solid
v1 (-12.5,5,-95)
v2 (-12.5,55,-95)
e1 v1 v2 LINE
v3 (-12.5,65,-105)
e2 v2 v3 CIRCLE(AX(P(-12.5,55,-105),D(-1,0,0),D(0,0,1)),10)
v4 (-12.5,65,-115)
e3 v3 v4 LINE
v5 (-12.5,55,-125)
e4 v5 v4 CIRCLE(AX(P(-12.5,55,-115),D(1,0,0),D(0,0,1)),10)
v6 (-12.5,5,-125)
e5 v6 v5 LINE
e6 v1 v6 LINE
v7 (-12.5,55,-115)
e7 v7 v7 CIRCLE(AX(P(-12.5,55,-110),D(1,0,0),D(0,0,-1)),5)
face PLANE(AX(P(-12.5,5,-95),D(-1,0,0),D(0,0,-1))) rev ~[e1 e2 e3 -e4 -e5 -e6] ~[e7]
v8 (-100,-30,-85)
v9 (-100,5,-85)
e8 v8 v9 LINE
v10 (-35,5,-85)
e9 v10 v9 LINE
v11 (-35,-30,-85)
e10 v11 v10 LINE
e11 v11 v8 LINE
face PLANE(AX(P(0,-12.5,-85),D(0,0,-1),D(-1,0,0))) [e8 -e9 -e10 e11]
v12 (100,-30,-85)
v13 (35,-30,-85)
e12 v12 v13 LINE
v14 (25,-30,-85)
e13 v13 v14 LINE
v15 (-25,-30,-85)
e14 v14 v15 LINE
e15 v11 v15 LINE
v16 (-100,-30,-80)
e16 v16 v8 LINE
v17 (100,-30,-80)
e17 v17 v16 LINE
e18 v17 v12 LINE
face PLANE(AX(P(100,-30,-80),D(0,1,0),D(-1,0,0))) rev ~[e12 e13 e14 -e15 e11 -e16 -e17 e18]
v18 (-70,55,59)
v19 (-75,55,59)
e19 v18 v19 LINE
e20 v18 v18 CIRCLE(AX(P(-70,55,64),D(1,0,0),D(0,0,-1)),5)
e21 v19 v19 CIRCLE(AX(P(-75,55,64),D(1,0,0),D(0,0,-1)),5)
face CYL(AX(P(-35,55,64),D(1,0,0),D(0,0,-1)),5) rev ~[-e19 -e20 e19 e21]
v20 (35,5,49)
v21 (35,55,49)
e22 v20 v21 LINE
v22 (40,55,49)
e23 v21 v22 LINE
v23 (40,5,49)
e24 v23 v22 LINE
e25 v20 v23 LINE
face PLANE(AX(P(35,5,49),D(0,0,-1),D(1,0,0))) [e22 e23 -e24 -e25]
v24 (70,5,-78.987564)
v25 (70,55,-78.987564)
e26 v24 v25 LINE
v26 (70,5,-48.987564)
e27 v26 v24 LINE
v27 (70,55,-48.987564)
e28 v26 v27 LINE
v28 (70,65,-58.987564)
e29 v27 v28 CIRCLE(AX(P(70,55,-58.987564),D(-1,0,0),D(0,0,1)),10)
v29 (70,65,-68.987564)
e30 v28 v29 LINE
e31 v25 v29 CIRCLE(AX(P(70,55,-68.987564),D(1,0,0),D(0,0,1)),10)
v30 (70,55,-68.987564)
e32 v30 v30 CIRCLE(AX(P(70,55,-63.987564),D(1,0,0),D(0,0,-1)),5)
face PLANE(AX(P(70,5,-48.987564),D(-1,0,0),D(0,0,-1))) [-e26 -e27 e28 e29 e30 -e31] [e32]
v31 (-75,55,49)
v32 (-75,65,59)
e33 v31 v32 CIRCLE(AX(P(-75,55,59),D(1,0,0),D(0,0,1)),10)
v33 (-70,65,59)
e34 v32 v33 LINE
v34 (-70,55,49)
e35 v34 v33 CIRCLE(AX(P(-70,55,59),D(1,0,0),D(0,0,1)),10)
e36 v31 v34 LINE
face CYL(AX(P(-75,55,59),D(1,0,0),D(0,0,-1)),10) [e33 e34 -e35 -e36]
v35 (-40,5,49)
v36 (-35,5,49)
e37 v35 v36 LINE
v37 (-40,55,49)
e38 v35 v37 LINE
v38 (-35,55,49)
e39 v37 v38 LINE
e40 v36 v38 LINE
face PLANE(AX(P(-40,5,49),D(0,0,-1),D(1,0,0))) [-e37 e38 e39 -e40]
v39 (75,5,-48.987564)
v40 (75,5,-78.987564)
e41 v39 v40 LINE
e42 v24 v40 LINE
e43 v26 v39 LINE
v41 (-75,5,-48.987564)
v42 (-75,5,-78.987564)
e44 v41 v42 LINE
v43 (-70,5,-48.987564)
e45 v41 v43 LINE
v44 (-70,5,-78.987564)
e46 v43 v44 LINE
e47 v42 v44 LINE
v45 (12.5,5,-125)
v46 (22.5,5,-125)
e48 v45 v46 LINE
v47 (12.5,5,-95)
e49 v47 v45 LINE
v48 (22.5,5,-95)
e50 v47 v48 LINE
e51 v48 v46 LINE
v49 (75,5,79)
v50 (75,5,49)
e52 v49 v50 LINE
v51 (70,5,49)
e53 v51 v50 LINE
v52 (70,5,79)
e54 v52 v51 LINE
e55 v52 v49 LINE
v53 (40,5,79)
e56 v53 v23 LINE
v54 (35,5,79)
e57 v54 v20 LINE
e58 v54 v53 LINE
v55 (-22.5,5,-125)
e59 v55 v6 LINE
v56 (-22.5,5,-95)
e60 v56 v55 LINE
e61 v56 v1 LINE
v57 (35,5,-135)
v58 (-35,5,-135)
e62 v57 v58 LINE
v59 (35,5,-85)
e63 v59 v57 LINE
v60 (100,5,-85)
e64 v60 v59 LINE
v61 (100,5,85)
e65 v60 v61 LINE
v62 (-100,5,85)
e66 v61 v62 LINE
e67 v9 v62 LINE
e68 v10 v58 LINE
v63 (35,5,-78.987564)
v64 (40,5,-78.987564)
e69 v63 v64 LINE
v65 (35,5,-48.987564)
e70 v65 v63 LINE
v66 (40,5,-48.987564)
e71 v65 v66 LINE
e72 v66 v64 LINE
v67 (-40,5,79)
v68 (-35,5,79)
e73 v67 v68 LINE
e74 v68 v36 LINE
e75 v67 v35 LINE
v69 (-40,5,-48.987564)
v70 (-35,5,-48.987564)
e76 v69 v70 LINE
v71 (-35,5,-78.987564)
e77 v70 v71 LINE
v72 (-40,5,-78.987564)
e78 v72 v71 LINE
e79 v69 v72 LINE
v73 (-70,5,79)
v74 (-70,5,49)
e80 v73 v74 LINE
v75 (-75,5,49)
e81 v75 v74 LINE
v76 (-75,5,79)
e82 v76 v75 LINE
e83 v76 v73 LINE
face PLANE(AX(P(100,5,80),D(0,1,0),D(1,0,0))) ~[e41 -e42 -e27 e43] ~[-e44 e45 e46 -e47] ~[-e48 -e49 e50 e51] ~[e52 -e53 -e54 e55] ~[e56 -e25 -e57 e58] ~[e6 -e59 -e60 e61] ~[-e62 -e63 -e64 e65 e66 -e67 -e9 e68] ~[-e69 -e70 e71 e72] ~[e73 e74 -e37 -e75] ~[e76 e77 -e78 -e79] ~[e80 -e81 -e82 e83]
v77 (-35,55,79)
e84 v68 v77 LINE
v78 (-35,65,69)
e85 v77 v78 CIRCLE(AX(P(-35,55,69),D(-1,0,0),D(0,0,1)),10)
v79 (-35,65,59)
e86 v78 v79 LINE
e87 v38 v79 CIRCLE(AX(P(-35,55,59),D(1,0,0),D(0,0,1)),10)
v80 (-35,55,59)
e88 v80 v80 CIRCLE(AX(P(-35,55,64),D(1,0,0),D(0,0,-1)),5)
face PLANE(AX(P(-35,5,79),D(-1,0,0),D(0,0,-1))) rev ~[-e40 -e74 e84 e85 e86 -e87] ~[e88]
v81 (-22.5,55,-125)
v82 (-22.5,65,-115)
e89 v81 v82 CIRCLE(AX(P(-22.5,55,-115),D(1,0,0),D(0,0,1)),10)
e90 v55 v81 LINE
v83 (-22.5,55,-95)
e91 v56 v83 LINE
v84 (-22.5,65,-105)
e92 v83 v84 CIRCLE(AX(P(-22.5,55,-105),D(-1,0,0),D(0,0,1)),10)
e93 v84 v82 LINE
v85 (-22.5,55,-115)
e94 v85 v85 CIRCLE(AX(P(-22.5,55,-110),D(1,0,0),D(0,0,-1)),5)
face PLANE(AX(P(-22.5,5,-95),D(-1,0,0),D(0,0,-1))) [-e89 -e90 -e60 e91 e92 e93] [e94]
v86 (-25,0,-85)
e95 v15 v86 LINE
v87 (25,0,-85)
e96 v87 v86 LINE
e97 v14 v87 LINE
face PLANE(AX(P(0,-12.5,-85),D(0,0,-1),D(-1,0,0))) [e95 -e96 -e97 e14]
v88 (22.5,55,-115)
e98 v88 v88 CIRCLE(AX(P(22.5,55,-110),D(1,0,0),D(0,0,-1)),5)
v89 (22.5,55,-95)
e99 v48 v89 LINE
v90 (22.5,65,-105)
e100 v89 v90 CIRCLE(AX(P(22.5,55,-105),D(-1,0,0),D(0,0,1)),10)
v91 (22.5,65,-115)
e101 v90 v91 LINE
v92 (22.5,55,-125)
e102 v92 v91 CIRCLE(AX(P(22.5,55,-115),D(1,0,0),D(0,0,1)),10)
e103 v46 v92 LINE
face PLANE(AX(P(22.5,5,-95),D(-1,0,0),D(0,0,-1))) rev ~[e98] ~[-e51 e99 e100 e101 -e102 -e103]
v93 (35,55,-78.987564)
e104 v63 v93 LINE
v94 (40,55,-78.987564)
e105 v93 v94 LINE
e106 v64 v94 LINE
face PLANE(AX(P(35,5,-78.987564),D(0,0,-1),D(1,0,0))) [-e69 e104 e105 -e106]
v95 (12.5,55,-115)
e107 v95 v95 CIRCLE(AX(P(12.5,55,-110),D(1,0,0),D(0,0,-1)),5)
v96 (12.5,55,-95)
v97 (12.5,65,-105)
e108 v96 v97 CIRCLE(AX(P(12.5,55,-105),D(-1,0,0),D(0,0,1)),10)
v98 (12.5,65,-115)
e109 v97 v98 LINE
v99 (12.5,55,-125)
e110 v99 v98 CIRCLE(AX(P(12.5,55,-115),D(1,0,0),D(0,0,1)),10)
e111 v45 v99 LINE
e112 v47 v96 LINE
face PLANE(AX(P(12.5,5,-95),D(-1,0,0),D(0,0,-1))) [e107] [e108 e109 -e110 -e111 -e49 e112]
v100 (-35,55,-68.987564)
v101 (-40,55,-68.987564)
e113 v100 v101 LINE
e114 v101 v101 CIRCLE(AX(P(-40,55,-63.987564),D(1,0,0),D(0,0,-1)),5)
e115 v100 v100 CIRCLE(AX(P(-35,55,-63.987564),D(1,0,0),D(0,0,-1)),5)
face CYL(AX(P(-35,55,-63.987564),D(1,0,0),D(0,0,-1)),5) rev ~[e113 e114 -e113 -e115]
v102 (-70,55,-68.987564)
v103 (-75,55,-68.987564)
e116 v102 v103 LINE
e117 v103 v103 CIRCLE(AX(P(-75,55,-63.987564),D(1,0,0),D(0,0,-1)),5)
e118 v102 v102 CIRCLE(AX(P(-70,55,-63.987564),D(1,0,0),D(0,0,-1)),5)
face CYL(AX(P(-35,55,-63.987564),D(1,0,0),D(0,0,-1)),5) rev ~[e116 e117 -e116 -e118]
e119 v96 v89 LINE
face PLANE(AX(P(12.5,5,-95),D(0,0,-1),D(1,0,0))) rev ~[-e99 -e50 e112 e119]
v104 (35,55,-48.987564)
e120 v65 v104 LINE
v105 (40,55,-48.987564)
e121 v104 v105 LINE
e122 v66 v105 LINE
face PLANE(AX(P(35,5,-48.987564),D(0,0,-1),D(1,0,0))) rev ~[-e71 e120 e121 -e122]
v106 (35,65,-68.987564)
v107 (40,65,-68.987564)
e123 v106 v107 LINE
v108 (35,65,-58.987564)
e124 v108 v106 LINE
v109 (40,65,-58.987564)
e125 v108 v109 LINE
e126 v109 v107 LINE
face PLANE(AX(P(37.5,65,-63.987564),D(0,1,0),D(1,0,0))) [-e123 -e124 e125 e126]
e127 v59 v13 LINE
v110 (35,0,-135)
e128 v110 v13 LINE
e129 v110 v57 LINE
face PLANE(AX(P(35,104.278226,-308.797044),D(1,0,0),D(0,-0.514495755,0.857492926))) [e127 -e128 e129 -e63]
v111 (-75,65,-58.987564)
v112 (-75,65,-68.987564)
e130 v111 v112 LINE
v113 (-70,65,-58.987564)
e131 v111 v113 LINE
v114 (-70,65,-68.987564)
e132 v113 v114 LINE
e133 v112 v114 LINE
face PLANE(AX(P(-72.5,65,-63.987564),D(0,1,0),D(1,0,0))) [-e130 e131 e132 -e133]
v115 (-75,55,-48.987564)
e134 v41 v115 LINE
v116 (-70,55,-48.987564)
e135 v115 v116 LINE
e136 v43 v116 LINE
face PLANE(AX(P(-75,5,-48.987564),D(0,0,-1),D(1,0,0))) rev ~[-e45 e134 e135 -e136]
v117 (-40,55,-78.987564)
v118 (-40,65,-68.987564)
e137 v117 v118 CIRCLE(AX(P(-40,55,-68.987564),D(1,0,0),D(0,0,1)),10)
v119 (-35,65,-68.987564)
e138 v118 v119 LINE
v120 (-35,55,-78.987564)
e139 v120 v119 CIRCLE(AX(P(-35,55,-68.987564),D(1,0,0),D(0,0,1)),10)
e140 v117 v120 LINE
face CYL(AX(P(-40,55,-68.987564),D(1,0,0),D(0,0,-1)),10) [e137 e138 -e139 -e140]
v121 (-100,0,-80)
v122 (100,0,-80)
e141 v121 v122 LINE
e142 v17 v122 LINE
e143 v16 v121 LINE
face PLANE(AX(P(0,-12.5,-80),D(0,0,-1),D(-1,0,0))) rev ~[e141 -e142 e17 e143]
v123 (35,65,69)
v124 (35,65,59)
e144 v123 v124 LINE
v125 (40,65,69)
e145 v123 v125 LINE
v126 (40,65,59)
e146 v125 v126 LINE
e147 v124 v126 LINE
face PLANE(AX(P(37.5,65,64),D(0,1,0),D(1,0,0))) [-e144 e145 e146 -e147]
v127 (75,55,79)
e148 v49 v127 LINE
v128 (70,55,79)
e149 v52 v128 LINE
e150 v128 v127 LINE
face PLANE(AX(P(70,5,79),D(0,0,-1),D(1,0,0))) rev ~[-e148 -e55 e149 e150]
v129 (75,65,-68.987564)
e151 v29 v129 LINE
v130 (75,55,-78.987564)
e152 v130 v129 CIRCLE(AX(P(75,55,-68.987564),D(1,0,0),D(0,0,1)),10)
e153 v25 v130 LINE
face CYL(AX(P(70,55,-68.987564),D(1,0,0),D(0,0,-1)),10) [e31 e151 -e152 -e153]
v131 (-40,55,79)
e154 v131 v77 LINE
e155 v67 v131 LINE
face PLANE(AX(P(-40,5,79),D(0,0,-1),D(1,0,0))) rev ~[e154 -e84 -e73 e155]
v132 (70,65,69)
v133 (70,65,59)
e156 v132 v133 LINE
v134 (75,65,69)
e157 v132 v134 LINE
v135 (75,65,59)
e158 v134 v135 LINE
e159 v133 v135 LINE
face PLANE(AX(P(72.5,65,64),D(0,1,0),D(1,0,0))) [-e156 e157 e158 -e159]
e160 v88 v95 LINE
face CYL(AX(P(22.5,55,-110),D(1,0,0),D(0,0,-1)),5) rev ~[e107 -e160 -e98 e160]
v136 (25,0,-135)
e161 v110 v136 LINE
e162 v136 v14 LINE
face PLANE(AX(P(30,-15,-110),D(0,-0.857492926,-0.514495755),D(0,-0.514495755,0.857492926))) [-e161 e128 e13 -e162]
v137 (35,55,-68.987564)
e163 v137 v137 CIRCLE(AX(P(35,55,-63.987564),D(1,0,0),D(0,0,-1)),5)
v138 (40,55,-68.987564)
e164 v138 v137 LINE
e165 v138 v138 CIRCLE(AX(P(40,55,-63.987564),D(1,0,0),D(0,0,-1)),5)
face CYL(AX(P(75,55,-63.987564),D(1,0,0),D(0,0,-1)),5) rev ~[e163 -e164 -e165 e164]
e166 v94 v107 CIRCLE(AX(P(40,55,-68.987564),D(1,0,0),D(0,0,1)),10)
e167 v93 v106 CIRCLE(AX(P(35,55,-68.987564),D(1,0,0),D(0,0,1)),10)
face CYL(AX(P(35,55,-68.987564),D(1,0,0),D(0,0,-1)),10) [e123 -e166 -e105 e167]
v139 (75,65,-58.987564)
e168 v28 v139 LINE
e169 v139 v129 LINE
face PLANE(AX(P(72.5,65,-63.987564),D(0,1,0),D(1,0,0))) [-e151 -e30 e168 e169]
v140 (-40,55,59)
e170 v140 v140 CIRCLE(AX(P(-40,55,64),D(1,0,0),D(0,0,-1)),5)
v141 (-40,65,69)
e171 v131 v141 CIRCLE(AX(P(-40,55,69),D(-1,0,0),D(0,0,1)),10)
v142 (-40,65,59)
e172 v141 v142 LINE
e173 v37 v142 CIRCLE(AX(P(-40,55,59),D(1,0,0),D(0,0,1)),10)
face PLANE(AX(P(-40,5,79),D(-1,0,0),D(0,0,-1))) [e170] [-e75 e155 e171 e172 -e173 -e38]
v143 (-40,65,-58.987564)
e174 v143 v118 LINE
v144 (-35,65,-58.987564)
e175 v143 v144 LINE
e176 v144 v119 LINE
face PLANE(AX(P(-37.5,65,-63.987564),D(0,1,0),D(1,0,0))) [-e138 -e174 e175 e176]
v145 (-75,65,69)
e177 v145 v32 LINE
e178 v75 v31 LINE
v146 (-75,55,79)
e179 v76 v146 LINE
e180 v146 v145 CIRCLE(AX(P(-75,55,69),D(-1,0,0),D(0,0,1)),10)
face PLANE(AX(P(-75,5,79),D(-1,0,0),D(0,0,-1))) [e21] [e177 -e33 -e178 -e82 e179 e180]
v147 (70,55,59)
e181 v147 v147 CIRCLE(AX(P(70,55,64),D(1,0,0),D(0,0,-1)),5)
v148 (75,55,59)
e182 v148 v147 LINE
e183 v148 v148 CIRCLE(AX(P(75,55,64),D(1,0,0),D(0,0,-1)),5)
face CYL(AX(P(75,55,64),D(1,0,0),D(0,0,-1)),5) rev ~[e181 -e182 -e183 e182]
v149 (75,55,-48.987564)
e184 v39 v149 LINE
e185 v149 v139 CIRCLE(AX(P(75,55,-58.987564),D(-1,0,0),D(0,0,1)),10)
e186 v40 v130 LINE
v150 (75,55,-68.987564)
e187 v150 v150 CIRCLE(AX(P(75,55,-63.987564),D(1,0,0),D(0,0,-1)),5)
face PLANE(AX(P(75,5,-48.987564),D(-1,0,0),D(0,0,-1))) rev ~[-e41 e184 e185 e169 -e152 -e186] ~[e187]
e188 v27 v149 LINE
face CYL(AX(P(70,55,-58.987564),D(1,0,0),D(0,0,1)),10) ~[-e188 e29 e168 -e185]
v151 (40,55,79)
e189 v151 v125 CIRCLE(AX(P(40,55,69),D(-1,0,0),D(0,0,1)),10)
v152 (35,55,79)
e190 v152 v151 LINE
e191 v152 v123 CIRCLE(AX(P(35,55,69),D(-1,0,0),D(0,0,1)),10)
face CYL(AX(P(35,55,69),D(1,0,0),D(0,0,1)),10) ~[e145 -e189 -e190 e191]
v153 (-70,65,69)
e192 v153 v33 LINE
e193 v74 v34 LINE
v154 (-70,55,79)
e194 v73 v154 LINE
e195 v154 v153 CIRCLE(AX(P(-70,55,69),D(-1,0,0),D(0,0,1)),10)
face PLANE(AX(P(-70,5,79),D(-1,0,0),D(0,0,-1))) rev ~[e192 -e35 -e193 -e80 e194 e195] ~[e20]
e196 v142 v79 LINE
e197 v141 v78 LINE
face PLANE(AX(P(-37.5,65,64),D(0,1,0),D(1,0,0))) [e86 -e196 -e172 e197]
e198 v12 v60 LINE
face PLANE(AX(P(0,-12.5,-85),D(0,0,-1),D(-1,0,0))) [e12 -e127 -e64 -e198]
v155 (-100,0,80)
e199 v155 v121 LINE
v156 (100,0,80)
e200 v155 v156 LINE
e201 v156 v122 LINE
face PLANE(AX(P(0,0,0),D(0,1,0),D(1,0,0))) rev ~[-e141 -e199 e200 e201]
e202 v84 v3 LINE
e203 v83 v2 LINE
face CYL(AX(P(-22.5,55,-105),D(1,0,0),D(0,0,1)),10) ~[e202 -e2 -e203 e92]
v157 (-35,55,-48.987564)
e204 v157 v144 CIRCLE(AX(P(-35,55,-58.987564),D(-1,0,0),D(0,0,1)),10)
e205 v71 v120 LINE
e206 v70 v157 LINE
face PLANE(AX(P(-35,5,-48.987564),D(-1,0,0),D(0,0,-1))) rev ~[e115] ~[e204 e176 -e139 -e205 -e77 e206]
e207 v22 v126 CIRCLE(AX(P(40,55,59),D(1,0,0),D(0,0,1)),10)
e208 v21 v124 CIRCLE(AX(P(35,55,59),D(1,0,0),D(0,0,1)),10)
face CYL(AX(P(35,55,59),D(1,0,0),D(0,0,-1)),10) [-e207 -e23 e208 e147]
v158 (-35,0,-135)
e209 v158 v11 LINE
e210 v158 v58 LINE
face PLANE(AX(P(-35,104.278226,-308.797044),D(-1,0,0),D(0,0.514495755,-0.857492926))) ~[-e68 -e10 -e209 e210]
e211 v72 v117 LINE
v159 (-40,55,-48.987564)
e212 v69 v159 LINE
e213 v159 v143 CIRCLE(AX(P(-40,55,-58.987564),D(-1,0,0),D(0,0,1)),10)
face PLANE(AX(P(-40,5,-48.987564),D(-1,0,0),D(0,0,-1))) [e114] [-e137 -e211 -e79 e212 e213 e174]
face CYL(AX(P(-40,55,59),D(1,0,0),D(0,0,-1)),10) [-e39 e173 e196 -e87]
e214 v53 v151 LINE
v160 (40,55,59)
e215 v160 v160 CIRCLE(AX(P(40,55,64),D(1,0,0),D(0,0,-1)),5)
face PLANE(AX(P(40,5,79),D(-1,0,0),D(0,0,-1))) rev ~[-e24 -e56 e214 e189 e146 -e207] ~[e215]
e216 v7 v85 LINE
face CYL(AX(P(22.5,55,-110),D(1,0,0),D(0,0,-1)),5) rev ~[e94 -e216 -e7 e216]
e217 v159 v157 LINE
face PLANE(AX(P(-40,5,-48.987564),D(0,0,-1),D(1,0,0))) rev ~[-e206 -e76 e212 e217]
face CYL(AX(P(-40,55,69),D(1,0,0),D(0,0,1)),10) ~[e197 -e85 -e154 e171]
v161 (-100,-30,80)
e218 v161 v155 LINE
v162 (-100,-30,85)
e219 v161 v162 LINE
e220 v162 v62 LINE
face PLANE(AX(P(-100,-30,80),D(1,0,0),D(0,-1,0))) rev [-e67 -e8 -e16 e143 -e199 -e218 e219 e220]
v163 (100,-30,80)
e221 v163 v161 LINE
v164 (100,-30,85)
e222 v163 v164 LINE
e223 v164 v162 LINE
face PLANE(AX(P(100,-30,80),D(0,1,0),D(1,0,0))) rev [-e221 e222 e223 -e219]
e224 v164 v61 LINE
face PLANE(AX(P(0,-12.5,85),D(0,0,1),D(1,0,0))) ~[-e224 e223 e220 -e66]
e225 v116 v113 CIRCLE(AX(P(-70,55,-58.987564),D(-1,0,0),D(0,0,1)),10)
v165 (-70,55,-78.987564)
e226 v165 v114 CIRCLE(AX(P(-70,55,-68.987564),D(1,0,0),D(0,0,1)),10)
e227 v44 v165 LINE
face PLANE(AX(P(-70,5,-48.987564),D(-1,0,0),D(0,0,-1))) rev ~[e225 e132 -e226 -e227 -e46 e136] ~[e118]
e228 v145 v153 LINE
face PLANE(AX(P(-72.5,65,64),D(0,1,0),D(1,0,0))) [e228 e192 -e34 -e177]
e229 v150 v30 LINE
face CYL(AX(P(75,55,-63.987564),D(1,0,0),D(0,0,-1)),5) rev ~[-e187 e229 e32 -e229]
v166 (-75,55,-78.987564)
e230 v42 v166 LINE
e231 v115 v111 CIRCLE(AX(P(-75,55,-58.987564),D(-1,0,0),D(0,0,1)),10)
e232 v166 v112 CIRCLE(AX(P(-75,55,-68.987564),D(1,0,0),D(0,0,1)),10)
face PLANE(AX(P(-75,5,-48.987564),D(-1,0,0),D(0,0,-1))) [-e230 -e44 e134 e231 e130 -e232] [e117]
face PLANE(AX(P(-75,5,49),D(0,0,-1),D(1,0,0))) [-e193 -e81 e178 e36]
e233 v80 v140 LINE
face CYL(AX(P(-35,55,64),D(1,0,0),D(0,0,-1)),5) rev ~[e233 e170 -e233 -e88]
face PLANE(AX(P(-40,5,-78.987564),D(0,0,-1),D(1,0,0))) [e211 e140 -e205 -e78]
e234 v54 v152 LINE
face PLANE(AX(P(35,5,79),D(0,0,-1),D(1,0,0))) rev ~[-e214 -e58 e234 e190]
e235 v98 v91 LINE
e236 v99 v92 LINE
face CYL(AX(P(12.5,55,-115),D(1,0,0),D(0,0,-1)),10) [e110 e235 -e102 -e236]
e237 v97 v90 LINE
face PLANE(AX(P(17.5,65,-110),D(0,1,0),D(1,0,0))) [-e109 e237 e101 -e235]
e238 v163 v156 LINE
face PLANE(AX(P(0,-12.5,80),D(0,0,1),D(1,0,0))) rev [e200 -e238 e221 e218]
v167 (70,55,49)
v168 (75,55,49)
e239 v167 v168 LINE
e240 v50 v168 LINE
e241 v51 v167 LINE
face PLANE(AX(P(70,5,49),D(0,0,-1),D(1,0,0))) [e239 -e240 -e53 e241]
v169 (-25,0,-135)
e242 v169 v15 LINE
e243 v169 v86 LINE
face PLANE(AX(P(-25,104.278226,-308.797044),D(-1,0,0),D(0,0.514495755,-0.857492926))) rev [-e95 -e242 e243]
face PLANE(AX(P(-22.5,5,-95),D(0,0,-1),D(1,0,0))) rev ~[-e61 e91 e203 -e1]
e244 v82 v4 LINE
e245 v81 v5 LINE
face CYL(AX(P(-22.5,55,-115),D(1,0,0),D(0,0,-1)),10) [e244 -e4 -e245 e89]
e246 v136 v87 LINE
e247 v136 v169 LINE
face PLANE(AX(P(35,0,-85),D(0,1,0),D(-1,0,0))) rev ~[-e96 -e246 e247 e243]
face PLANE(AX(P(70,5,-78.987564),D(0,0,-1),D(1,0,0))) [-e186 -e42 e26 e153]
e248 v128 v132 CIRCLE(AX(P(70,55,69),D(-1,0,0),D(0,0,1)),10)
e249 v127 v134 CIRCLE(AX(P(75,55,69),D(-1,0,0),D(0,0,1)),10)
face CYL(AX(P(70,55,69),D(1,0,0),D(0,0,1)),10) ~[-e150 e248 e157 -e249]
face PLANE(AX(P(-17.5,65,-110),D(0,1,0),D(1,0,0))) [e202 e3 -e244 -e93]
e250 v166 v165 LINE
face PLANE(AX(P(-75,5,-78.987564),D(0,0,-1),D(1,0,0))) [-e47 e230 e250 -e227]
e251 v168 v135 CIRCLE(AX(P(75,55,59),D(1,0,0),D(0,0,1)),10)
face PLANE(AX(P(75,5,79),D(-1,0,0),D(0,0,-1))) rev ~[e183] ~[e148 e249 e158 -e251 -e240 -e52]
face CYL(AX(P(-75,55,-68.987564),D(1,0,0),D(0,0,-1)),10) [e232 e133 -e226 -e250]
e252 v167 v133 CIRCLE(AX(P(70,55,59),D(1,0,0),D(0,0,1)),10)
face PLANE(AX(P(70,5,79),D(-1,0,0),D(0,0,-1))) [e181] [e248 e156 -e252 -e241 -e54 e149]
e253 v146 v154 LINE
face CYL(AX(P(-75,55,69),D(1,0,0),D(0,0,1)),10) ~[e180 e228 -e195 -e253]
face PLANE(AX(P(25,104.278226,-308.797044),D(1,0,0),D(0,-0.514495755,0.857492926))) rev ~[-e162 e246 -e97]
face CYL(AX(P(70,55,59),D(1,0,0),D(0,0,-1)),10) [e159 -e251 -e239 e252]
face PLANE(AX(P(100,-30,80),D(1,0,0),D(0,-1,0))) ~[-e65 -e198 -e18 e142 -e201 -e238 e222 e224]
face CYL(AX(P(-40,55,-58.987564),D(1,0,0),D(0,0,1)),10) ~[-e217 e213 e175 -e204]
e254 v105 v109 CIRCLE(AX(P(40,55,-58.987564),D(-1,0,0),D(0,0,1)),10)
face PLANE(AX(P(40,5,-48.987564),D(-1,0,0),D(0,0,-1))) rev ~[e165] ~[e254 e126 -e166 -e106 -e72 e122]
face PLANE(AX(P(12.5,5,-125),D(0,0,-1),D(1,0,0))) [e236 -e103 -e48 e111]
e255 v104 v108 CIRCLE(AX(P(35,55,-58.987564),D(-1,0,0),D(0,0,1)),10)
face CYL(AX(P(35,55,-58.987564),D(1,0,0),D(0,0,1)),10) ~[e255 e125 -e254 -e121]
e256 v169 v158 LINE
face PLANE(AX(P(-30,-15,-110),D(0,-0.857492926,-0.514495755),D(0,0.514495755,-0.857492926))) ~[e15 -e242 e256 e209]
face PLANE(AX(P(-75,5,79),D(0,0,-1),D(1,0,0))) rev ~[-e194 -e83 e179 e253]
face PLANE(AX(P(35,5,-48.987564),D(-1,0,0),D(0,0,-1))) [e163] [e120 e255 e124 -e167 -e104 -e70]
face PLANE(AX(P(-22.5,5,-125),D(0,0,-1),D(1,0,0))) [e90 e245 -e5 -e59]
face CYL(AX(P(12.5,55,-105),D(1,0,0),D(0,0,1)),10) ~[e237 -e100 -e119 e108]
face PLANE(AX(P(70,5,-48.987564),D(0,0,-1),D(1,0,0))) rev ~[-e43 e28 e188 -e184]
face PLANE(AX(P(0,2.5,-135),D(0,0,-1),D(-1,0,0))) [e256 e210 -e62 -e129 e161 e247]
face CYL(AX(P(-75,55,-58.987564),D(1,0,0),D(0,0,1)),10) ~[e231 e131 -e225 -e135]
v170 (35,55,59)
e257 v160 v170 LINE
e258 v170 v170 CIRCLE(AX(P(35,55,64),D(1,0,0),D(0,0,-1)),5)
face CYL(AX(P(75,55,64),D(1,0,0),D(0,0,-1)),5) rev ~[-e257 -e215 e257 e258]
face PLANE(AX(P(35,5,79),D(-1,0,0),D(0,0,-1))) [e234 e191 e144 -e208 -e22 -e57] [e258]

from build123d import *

# Parameters (mm, degrees)
SKETCH2_W              = 200
SKETCH2_H              = 160
BOSS_EXTRUDE1_DEPTH    = 5
SKETCH3_W              = 5
SKETCH3_H              = 30
BOSS_EXTRUDE2_DEPTH    = 60
CUT_EXTRUDE1_REACH     = 171.853
SKETCH4_R              = 5
FILLET1_R              = 10
LPATTERN1_COUNT        = 2
LPATTERN1_PITCH        = 110
LPATTERN1_COUNT_DIR2   = 2
LPATTERN1_PITCH_DIR2   = 127.98756405
FILLET1_OF_LPATTERN1_R = 10
SKETCH6_W              = 200
SKETCH6_H              = 35
BOSS_EXTRUDE3_DEPTH    = 5
SKETCH7_W              = 70
SKETCH7_H              = 5
BOSS_EXTRUDE8_DEPTH    = 50
SKETCH9_W              = 10
SKETCH9_H              = 30
BOSS_EXTRUDE9_DEPTH    = 60
FILLET2_R              = 10
CUT_EXTRUDE2_REACH     = 195.536
SKETCH11_R             = 5
RIB4_REACH             = 203.68
SKETCH14_WALL_W        = 463.67039955
SKETCH14_WALL_H        = 10


with BuildPart() as part:
    # Sketch2 → Boss-Extrude1 (new body)
    with BuildSketch(Plane(origin=(0, 0, 0), x_dir=(1, 0, 0), z_dir=(0, 1, 0))):
        Rectangle(SKETCH2_W, SKETCH2_H)
    extrude(amount=BOSS_EXTRUDE1_DEPTH)

    # Sketch3 → Boss-Extrude2 (add)
    with BuildSketch(Plane(origin=(0, 5, 0), x_dir=(1, 0, 0), z_dir=(0, 1, 0))):
        with Locations((-72.5, 63.98756405)):
            Rectangle(SKETCH3_W, SKETCH3_H)
        with Locations((-37.5, 63.98756405)):
            Rectangle(SKETCH3_W, SKETCH3_H)
    boss_extrude2 = extrude(amount=BOSS_EXTRUDE2_DEPTH)

    # Cut-Extrude1: up to this face of the body (flat: up to its plane)
    cut_extrude1_end = Plane(part.part.faces().sort_by_distance((-75, 35, -63.98756405))[0])
    # Sketch4 → Cut-Extrude1 (cut, up to the picked face)
    with BuildSketch(Plane(origin=(-35, 0, 0), x_dir=(0, 0, -1), z_dir=(1, 0, 0)), mode=Mode.PRIVATE) as cut_extrude1_sk1:
        with Locations((63.98756405, 55)):
            Circle(SKETCH4_R)
    cut_extrude1_tool1 = split(extrude(cut_extrude1_sk1.sketch, amount=-CUT_EXTRUDE1_REACH, mode=Mode.PRIVATE), bisect_by=cut_extrude1_end, keep=Keep.BOTH, mode=Mode.PRIVATE)
    cut_extrude1 = cut_extrude1_tool1.solids().sort_by(Axis((-35, 55, -63.987564), (-1, 0, 0)))[0]
    add(cut_extrude1, mode=Mode.SUBTRACT)

    # Fillet1
    fillet1_edges = [part.edges().sort_by_distance(p)[0] for p in [
        (-72.5, 65, -78.98756405),
        (-72.5, 65, -48.98756405),
        (-37.5, 65, -78.98756405),
        (-37.5, 65, -48.98756405),
    ]]
    fillet(fillet1_edges, radius=FILLET1_R)

    # LPattern1: Boss-Extrude2, Cut-Extrude1 2 × 2
    with Locations(*[(i * LPATTERN1_PITCH, 0, j * LPATTERN1_PITCH_DIR2) for i in range(LPATTERN1_COUNT) for j in range(LPATTERN1_COUNT_DIR2) if (i, j) != (0, 0)]):
        add(boss_extrude2)
        add(cut_extrude1, mode=Mode.SUBTRACT)

    # Fillet1 of LPattern1
    fillet1_of_lpattern1_edges = [part.edges().sort_by_distance(p)[0] for p in [
        (-72.5, 65, 49),
        (-72.5, 65, 79),
        (-37.5, 65, 49),
        (-37.5, 65, 79),
        (37.5, 65, -78.98756405),
        (37.5, 65, -48.98756405),
        (72.5, 65, -78.98756405),
        (72.5, 65, -48.98756405),
        (37.5, 65, 49),
        (37.5, 65, 79),
        (72.5, 65, 49),
        (72.5, 65, 79),
    ]]
    fillet(fillet1_of_lpattern1_edges, radius=FILLET1_OF_LPATTERN1_R)

    # Sketch6 → Boss-Extrude3 (add)
    with BuildSketch(Plane(origin=(0, 0, -80), x_dir=(-1, 0, 0), z_dir=(0, 0, -1))):
        with Locations((0, -12.5)):
            Rectangle(SKETCH6_W, SKETCH6_H)
    boss_extrude3 = extrude(amount=BOSS_EXTRUDE3_DEPTH)

    # Mirror8: Boss-Extrude3 across plane
    add(boss_extrude3.mirror(Plane.XY))

    # Sketch7 → Boss-Extrude8 (add)
    with BuildSketch(Plane(origin=(0, 0, -85), x_dir=(-1, 0, 0), z_dir=(0, 0, -1))):
        with Locations((0, 2.5)):
            Rectangle(SKETCH7_W, SKETCH7_H)
    extrude(amount=BOSS_EXTRUDE8_DEPTH)

    # Sketch9 → Boss-Extrude9 (add)
    with BuildSketch(Plane(origin=(0, 5, 0), x_dir=(1, 0, 0), z_dir=(0, 1, 0))):
        with Locations((-17.5, 110)):
            Rectangle(SKETCH9_W, SKETCH9_H)
        with Locations((17.5, 110)):
            Rectangle(SKETCH9_W, SKETCH9_H)
    extrude(amount=BOSS_EXTRUDE9_DEPTH)

    # Fillet2
    fillet2_edges = [part.edges().sort_by_distance(p)[0] for p in [
        (-17.5, 65, -95),
        (-17.5, 65, -125),
        (17.5, 65, -95),
        (17.5, 65, -125),
    ]]
    fillet(fillet2_edges, radius=FILLET2_R)

    # Cut-Extrude2: up to this face of the body (flat: up to its plane)
    cut_extrude2_end = Plane(part.part.faces().sort_by_distance((-22.5, 34.321749192, -110))[0])
    # Sketch11 → Cut-Extrude2 (cut, up to the picked face)
    with BuildSketch(Plane(origin=(22.5, 0, 0), x_dir=(0, 0, -1), z_dir=(1, 0, 0)), mode=Mode.PRIVATE) as cut_extrude2_sk1:
        with Locations((110, 55)):
            Circle(SKETCH11_R)
    cut_extrude2_tool1 = split(extrude(cut_extrude2_sk1.sketch, amount=-CUT_EXTRUDE2_REACH, mode=Mode.PRIVATE), bisect_by=cut_extrude2_end, keep=Keep.BOTH, mode=Mode.PRIVATE)
    add(cut_extrude2_tool1.solids().sort_by(Axis((22.5, 55, -110), (-1, 0, 0)))[0], mode=Mode.SUBTRACT)

    # Sketch14 wall → Rib4 (add, up to next)
    with BuildSketch(Plane(origin=(35, -15, -110), x_dir=(0, -0.514495755428, 0.857492925713), z_dir=(0, -0.857492925713, -0.514495755428)), mode=Mode.PRIVATE) as rib4_sk1:
        with Locations((0, 5)):
            Rectangle(SKETCH14_WALL_W, SKETCH14_WALL_H)
    rib4_tool1 = extrude(rib4_sk1.sketch, amount=-RIB4_REACH, mode=Mode.PRIVATE) - part.part
    rib4 = rib4_tool1.solids().sort_by_distance((35, -15, -110))[0]
    add(rib4)

    # Mirror1: Rib4 across plane
    add(rib4.mirror(Plane(origin=(0, 0, 0), x_dir=(0, 0, 1), z_dir=(1, 0, 0))))


solid = part.part
